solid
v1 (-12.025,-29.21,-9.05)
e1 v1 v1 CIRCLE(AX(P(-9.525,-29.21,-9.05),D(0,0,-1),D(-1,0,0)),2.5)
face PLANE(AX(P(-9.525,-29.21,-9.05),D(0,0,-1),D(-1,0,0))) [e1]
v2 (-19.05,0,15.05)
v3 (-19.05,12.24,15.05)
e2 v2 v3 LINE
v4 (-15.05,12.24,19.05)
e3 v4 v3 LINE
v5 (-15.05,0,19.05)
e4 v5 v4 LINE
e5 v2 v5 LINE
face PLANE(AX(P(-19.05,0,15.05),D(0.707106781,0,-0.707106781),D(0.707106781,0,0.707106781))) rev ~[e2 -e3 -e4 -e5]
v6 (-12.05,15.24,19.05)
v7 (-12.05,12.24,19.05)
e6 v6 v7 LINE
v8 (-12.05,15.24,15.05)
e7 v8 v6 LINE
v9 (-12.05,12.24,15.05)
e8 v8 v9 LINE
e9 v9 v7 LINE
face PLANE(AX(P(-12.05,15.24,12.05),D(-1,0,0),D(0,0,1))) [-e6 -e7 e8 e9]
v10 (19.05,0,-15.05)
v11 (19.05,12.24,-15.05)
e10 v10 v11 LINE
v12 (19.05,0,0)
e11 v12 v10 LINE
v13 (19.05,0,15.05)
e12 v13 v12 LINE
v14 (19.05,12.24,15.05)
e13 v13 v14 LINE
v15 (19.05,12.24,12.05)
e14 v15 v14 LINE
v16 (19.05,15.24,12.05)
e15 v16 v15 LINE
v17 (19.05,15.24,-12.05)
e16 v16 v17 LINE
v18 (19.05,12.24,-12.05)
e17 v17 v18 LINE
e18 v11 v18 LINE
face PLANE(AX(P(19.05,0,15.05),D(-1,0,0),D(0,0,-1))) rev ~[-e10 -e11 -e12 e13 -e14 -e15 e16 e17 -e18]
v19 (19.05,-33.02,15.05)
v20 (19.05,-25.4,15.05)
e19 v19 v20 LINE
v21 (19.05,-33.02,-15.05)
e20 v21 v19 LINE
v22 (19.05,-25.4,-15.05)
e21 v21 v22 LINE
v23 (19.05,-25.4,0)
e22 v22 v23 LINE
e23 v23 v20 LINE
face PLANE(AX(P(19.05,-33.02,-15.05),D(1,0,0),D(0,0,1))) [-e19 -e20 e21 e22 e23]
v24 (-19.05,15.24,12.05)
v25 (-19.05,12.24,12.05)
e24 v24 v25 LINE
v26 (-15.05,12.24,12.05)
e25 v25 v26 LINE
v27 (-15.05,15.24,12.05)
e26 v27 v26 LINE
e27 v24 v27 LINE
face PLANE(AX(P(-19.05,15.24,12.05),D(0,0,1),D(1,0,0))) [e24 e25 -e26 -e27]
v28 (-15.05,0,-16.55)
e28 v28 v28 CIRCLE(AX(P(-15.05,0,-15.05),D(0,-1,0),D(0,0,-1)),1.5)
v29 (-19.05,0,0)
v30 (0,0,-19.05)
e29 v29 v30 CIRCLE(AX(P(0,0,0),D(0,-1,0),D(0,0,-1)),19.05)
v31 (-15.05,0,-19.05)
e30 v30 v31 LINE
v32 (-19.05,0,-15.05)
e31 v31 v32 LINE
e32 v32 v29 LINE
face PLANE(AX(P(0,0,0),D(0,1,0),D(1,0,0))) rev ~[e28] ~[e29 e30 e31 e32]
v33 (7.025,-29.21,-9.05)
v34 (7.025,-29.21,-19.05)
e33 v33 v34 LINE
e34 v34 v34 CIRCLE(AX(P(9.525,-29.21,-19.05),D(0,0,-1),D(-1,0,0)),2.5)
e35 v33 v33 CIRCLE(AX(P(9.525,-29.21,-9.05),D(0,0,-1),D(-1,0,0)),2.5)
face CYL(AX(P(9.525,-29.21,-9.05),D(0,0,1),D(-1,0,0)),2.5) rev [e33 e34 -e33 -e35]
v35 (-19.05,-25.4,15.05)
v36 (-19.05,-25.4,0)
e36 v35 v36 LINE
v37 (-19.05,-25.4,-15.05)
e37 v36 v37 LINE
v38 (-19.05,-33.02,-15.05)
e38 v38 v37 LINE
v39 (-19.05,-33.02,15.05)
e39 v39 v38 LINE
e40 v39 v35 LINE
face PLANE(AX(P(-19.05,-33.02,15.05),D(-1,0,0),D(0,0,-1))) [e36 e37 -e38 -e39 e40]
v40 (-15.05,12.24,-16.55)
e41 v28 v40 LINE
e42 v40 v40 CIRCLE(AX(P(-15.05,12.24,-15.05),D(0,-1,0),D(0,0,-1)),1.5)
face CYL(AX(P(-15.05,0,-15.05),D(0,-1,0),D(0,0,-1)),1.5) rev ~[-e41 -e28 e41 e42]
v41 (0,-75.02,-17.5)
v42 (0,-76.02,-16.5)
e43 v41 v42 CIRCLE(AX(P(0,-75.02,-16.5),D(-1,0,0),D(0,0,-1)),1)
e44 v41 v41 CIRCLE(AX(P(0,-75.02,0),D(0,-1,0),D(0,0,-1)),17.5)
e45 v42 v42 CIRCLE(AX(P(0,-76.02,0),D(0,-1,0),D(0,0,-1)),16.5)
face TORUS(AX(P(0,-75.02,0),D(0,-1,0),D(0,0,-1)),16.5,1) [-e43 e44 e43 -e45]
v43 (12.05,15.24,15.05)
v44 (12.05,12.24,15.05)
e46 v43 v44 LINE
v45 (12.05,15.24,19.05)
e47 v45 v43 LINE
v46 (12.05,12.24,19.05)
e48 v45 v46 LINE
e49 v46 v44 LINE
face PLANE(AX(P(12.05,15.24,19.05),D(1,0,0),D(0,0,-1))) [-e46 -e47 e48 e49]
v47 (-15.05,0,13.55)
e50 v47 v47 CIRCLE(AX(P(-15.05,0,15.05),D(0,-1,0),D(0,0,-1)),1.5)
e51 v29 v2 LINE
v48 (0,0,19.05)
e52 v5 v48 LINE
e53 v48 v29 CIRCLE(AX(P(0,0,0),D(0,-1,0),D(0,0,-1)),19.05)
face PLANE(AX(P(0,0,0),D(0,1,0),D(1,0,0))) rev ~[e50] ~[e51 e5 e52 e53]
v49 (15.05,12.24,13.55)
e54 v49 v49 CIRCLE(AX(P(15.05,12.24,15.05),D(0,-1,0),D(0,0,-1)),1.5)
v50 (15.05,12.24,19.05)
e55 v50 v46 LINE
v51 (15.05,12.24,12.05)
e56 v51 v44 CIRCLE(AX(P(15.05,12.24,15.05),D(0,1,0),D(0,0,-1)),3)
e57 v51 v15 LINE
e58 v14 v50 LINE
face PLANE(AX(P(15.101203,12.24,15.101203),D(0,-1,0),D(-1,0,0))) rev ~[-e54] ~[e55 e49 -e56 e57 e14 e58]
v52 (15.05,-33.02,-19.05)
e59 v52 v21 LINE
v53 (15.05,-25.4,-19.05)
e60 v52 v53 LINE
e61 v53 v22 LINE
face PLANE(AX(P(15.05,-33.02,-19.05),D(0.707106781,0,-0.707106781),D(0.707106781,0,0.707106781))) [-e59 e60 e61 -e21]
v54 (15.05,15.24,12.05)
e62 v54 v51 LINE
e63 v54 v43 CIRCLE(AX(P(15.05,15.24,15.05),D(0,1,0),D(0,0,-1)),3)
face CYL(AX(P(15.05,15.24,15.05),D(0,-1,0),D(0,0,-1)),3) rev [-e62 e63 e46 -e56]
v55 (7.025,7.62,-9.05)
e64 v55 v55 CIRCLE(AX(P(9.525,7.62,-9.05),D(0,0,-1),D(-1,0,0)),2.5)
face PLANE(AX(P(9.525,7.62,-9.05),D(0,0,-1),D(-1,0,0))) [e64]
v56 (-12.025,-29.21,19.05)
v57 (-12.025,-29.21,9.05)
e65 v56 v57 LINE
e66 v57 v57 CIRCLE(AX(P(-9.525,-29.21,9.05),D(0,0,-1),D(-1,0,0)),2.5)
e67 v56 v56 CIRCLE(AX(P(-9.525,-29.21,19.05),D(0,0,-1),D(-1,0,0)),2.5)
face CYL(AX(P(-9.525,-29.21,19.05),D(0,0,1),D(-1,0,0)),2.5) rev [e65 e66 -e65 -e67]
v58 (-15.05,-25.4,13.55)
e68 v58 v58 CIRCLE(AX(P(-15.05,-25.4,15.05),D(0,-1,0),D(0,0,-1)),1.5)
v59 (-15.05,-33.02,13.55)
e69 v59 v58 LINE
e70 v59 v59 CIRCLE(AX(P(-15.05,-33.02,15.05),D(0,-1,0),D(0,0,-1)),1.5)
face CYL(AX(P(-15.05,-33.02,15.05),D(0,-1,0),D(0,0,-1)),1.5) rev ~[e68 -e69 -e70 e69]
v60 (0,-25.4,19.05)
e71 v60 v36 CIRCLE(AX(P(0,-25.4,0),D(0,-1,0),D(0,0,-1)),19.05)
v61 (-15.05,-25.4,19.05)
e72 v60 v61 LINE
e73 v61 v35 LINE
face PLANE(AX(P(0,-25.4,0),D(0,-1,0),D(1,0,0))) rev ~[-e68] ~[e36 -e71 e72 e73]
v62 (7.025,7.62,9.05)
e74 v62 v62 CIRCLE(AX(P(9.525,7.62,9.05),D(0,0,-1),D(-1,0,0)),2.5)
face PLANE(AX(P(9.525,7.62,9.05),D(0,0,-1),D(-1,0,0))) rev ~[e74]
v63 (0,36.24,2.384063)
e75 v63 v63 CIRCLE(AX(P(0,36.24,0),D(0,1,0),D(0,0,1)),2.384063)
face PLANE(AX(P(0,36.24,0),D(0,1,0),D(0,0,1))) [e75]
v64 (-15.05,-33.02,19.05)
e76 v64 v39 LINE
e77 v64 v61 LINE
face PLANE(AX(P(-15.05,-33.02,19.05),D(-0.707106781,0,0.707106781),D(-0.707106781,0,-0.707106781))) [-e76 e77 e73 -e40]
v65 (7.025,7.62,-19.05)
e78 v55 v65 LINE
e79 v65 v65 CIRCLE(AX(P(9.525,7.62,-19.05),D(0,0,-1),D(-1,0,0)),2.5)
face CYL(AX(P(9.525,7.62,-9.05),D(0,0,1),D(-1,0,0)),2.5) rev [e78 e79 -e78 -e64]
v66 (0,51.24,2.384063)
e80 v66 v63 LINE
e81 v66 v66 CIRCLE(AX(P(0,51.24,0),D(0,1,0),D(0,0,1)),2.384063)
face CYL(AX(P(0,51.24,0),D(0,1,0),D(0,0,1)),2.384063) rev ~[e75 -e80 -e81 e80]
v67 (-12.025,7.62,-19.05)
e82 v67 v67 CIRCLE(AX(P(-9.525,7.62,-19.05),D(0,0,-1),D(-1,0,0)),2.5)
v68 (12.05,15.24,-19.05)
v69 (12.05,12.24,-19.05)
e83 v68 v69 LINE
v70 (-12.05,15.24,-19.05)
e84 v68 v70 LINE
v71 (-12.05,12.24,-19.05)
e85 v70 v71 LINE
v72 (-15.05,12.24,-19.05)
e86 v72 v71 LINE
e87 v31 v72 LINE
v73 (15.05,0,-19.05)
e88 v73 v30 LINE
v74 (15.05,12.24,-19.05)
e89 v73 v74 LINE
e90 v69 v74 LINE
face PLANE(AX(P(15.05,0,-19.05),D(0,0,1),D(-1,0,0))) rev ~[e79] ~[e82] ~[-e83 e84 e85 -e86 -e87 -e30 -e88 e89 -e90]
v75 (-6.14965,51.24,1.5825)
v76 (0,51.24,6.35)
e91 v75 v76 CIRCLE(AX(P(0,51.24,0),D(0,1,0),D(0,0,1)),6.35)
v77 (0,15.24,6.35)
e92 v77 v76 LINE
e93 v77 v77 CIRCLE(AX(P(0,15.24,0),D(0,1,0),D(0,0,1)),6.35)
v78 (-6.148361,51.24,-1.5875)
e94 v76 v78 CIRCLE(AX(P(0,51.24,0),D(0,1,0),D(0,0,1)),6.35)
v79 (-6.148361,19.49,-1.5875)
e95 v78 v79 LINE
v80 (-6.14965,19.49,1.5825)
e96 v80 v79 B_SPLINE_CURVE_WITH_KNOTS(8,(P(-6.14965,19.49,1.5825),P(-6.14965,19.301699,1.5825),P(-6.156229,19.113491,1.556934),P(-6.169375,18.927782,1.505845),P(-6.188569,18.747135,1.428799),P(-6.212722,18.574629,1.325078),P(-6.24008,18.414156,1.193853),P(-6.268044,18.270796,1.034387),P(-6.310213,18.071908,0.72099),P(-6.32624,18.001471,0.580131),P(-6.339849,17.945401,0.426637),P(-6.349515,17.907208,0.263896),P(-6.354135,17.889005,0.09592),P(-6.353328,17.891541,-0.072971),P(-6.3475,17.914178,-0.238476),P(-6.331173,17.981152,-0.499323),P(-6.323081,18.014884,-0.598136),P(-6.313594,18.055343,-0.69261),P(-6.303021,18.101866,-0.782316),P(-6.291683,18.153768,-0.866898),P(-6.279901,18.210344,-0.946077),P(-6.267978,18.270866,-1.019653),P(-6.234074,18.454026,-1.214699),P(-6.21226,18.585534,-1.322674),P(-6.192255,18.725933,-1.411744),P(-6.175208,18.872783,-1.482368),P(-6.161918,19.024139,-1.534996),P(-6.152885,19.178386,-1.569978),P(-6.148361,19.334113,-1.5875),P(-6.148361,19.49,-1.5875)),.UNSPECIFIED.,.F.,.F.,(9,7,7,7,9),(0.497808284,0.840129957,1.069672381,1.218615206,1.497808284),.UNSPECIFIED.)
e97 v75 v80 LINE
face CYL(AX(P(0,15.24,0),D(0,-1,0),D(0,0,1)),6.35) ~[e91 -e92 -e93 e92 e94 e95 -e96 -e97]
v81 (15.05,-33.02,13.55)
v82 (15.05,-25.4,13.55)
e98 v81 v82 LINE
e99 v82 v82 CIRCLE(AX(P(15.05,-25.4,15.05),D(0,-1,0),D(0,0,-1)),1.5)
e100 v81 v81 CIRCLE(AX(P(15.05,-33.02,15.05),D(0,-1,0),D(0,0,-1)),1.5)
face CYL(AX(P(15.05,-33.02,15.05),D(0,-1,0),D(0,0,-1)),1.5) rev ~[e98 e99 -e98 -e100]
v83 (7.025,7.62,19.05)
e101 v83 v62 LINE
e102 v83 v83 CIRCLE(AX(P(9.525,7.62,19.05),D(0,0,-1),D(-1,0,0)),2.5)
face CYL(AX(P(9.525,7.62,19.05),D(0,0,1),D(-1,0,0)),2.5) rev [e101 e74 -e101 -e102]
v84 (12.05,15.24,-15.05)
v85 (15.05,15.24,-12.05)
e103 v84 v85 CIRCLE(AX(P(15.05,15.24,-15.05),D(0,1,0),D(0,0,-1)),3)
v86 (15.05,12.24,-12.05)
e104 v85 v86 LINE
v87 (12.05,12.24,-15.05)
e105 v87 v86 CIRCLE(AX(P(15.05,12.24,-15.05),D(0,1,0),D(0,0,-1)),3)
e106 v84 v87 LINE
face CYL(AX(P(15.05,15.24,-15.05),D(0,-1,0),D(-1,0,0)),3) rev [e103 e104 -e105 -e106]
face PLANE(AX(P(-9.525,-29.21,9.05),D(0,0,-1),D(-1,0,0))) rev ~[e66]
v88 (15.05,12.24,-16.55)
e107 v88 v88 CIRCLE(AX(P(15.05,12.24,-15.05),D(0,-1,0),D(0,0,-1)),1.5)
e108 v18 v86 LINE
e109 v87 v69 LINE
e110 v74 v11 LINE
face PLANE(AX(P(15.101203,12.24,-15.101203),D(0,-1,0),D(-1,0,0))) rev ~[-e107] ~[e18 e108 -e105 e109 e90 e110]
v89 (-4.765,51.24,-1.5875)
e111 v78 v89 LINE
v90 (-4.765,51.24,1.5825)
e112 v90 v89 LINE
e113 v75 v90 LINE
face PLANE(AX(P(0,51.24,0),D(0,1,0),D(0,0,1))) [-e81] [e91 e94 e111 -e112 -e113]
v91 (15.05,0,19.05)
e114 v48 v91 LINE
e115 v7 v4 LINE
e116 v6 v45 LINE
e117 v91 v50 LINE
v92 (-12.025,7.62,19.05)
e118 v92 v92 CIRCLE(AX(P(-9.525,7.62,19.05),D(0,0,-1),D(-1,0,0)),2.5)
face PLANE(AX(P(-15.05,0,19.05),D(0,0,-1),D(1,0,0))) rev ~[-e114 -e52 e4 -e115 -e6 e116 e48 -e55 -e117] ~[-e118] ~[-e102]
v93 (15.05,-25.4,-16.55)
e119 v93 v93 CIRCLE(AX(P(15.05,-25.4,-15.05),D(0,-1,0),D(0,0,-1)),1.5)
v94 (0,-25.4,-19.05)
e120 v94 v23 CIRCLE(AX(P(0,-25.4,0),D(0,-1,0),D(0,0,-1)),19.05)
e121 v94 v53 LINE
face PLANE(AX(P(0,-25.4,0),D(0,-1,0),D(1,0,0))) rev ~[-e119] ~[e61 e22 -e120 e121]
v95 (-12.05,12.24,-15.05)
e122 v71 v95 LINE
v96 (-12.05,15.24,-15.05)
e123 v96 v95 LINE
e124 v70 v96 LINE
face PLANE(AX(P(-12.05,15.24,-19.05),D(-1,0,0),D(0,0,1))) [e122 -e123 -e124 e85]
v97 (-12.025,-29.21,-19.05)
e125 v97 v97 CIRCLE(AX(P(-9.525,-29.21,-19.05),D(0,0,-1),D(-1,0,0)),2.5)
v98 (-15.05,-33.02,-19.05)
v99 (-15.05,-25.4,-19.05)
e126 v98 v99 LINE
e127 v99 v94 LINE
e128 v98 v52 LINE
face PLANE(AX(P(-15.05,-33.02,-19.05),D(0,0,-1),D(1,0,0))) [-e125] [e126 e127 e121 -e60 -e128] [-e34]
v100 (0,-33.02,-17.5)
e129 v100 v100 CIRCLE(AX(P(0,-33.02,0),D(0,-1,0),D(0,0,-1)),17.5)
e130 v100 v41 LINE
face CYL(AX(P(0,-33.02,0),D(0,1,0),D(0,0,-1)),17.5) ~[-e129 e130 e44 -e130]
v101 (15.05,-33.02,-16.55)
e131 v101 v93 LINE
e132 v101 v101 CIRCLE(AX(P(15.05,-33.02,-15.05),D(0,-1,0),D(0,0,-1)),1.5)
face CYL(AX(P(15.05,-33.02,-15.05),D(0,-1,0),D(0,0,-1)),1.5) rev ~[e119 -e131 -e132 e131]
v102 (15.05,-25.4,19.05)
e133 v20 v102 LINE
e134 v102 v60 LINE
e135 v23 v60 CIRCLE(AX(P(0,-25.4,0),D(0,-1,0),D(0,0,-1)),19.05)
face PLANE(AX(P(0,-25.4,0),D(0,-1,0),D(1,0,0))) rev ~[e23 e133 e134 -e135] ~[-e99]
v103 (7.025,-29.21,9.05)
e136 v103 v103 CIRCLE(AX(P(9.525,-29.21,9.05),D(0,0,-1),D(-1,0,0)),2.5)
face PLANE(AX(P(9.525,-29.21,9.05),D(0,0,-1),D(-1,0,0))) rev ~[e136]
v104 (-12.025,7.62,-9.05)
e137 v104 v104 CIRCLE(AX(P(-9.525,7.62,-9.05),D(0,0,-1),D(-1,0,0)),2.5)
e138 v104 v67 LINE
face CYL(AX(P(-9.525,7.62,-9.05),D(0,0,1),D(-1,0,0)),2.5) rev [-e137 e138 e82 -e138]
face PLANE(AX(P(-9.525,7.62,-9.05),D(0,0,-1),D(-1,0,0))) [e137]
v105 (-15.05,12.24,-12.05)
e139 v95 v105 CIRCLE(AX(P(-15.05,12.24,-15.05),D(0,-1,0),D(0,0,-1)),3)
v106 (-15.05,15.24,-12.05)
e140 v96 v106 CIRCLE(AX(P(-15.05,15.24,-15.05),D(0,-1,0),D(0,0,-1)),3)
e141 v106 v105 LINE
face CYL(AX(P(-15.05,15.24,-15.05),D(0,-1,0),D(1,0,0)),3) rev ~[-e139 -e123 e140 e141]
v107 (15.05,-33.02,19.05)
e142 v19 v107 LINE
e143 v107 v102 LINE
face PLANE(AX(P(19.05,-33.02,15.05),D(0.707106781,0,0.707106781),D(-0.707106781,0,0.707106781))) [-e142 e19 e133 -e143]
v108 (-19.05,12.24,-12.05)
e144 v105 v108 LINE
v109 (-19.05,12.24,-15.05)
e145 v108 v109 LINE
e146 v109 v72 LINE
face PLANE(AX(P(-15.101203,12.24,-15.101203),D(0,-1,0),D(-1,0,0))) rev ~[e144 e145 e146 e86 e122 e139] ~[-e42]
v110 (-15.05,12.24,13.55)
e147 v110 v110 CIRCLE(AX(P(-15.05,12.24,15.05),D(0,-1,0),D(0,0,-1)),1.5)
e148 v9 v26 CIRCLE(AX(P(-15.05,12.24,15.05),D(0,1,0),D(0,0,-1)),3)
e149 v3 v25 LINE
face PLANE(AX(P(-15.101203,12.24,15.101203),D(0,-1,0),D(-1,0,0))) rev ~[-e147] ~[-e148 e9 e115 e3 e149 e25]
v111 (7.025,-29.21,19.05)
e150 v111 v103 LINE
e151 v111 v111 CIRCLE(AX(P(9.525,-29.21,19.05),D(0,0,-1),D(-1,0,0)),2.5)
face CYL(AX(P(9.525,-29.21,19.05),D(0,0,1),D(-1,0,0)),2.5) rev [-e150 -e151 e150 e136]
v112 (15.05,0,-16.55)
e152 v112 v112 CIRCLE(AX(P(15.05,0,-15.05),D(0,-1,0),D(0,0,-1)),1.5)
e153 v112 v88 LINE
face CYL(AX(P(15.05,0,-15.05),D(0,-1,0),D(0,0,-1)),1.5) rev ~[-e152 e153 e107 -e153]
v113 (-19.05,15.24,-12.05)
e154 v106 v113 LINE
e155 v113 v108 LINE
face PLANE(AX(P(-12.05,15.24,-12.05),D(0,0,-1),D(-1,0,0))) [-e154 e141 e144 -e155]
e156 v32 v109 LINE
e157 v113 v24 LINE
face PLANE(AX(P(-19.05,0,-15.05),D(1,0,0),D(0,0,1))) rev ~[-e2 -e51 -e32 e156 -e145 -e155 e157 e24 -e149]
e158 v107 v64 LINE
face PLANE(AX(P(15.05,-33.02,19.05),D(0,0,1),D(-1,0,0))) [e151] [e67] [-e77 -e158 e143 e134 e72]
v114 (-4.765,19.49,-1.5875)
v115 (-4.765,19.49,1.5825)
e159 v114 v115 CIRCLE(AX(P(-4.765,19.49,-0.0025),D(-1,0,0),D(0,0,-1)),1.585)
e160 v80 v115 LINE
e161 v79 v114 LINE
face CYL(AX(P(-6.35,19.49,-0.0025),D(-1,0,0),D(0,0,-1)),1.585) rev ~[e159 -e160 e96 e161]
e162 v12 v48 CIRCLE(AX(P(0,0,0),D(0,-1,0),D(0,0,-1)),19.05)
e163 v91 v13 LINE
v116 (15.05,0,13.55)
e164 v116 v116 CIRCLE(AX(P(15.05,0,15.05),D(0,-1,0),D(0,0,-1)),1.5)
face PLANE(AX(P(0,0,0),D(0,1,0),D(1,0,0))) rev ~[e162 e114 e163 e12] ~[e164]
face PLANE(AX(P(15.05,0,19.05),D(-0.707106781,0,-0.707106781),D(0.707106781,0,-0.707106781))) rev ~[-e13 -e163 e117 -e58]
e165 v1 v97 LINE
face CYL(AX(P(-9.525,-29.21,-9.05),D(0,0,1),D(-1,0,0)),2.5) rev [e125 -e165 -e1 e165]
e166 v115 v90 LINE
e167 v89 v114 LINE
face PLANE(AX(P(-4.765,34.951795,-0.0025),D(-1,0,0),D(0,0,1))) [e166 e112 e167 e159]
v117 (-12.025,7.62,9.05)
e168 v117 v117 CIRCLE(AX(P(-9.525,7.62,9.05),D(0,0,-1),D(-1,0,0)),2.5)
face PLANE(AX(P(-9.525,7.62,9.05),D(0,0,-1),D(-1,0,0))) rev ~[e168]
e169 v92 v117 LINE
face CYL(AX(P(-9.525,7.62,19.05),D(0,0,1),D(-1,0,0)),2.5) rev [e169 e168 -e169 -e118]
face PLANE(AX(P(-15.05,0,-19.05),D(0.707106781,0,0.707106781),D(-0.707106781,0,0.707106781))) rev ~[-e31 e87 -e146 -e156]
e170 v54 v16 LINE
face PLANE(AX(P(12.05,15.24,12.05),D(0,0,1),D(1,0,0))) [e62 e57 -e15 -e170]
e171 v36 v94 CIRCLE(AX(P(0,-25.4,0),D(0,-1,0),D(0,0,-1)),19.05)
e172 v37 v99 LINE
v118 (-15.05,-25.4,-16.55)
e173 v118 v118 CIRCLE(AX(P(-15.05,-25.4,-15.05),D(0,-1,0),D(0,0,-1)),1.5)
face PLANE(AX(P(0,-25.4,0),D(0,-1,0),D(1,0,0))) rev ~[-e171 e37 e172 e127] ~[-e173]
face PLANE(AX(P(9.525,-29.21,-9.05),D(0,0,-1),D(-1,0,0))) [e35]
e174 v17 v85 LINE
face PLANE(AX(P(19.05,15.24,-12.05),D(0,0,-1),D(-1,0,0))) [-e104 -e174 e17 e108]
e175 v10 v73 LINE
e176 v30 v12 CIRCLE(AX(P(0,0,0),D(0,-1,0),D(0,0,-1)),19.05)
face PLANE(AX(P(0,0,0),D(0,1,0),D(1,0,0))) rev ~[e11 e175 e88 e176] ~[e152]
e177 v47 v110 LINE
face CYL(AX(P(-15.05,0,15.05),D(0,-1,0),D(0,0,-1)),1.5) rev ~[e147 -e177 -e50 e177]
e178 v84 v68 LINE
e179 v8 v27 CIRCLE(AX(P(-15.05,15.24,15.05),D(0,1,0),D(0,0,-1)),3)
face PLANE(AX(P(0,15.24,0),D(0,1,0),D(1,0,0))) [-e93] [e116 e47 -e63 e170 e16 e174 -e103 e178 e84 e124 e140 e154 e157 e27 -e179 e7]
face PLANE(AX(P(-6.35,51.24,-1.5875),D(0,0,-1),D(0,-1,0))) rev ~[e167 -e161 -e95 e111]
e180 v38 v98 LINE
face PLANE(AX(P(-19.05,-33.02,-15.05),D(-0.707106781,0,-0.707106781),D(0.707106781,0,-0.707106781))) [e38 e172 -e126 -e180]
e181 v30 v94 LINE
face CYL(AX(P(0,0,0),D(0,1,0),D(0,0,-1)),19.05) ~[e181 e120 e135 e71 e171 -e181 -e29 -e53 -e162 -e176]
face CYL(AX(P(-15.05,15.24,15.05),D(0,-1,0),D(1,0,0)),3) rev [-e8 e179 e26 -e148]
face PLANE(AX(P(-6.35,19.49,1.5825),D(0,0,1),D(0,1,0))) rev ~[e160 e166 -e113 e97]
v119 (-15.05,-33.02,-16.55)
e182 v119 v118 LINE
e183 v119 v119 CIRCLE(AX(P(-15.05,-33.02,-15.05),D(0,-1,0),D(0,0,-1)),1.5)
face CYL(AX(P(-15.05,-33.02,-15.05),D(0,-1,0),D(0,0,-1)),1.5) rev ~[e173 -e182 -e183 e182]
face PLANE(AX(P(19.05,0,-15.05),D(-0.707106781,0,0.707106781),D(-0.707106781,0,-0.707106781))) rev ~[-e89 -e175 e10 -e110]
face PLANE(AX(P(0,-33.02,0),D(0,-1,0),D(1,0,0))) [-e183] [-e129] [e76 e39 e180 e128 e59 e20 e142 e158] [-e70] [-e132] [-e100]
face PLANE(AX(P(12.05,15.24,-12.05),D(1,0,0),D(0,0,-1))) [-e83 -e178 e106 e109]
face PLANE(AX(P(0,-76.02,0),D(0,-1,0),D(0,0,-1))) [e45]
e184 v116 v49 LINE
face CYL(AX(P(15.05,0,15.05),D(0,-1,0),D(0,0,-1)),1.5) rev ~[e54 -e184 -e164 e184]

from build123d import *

# Parameters (mm, degrees)
SALIENTE_EXTRUIR1_DEPTH = 15.24
CROQUIS2_R              = 6.35
SALIENTE_EXTRUIR2_DEPTH = 36
CORTAR_EXTRUIR1_DEPTH   = 1.585
CROQUIS4_R              = 1.5
CORTAR_EXTRUIR2_DEPTH   = 58.890781738
CROQUIS5_R              = 19.05
SALIENTE_EXTRUIR3_DEPTH = 25.4
SALIENTE_EXTRUIR4_START = 7.62
CROQUIS6_R              = 1.5
SALIENTE_EXTRUIR4_DEPTH = 7.62
CORTAR_EXTRUIR3_DEPTH   = 3
REDONDEO1_R             = 3
CROQUIS8_R              = 17.5
SALIENTE_EXTRUIR5_DEPTH = 43
REDONDEO2_R             = 1
CROQUIS9_R              = 2.5
CORTAR_EXTRUIR4_DEPTH   = 10
CORTAR_EXTRUIR5_START   = 28.1
CROQUIS9_2_R            = 2.5
CORTAR_EXTRUIR5_DEPTH   = 10
CROQUIS10_R             = 2.3840625
CORTAR_EXTRUIR6_DEPTH   = 15


with BuildPart() as part:
    # Croquis1 → Saliente-Extruir1 (new body)
    with BuildSketch(Plane(origin=(0, 0, 0), x_dir=(1, 0, 0), z_dir=(0, 1, 0))):
        Polygon((-15.05, 19.05), (-19.05, 15.05), (-19.05, -15.05), (-15.05, -19.05), (15.05, -19.05), (19.05, -15.05), (19.05, 15.05), (15.05, 19.05), align=None)
    extrude(amount=SALIENTE_EXTRUIR1_DEPTH)

    # Croquis2 → Saliente-Extruir2 (add)
    with BuildSketch(Plane(origin=(0, 15.24, 0), x_dir=(1, 0, 0), z_dir=(0, 1, 0))):
        with Locations(Location((0, 0, 0), (0, 0, 270))):
            Circle(CROQUIS2_R)
    extrude(amount=SALIENTE_EXTRUIR2_DEPTH)

    # Croquis3 → Cortar-Extruir1 (cut)
    with BuildSketch(Plane.ZY.offset(6.35)):
        with BuildLine():
            Line((-1.5875, 51.24), (-1.5875, 19.49))
            ThreePointArc((-1.5875, 19.49), (-0.0025, 17.905), (1.5825, 19.49))
            Line((1.5825, 19.49), (1.5825, 51.24))
            Line((1.5825, 51.24), (-1.5875, 51.24))
        make_face()
    extrude(amount=-CORTAR_EXTRUIR1_DEPTH, mode=Mode.SUBTRACT)

    # Croquis4 → Cortar-Extruir2 (cut, through all)
    with BuildSketch(Plane.XZ):
        with Locations(Location((-15.05, -15.05, 0), (0, 0, 270))):
            Circle(CROQUIS4_R)
        with Locations(Location((-15.05, 15.05, 0), (0, 0, 270))):
            Circle(CROQUIS4_R)
        with Locations(Location((15.05, 15.05, 0), (0, 0, 270))):
            Circle(CROQUIS4_R)
        with Locations(Location((15.05, -15.05, 0), (0, 0, 270))):
            Circle(CROQUIS4_R)
    extrude(amount=-CORTAR_EXTRUIR2_DEPTH, mode=Mode.SUBTRACT)

    # Croquis5 → Saliente-Extruir3 (add)
    with BuildSketch(Plane.XZ):
        with Locations(Location((0, 0, 0), (0, 0, 270))):
            Circle(CROQUIS5_R)
    extrude(amount=SALIENTE_EXTRUIR3_DEPTH)

    # Croquis6 → Saliente-Extruir4 (add)
    with BuildSketch(Plane.XZ.offset(25.4).offset(SALIENTE_EXTRUIR4_START)):
        Polygon((-19.05, -15.05), (-15.05, -19.05), (15.05, -19.05), (19.05, -15.05), (19.05, 15.05), (15.05, 19.05), (-15.05, 19.05), (-19.05, 15.05), align=None)
        with Locations(Location((-15.05, 15.05, 0), (0, 0, 270))):
            Circle(CROQUIS6_R, mode=Mode.SUBTRACT)
        with Locations(Location((-15.05, -15.05, 0), (0, 0, 270))):
            Circle(CROQUIS6_R, mode=Mode.SUBTRACT)
        with Locations(Location((15.05, -15.05, 0), (0, 0, 270))):
            Circle(CROQUIS6_R, mode=Mode.SUBTRACT)
        with Locations(Location((15.05, 15.05, 0), (0, 0, 270))):
            Circle(CROQUIS6_R, mode=Mode.SUBTRACT)
    extrude(amount=-SALIENTE_EXTRUIR4_DEPTH)

    # Croquis7 → Cortar-Extruir3 (cut)
    with BuildSketch(Plane(origin=(0, 15.24, 0), x_dir=(1, 0, 0), z_dir=(0, 1, 0))):
        Polygon((-19.05, -12.05), (-12.05, -12.05), (-12.05, -19.05), (-15.05, -19.05), (-19.05, -15.05), align=None)
        Polygon((-12.05, 19.05), (-12.05, 12.05), (-19.05, 12.05), (-19.05, 15.05), (-15.05, 19.05), align=None)
        Polygon((19.05, 12.05), (12.05, 12.05), (12.05, 19.05), (15.05, 19.05), (19.05, 15.05), align=None)
        Polygon((12.05, -19.05), (12.05, -12.05), (19.05, -12.05), (19.05, -15.05), (15.05, -19.05), align=None)
    extrude(amount=-CORTAR_EXTRUIR3_DEPTH, mode=Mode.SUBTRACT)

    # Redondeo1
    redondeo1_edges = [part.edges().sort_by_distance(p)[0] for p in [
        (12.05, 13.74, 12.05),
        (12.05, 13.74, -12.05),
        (-12.05, 13.74, -12.05),
        (-12.05, 13.74, 12.05),
    ]]
    fillet(redondeo1_edges, radius=REDONDEO1_R)

    # Croquis8 → Saliente-Extruir5 (add)
    with BuildSketch(Plane.XZ.offset(33.02)):
        with Locations(Location((0, 0, 0), (0, 0, 270))):
            Circle(CROQUIS8_R)
    extrude(amount=SALIENTE_EXTRUIR5_DEPTH)

    # Redondeo2
    redondeo2_edges = [part.edges().sort_by_distance(p)[0] for p in [
        (0, -76.02, 17.5),
    ]]
    fillet(redondeo2_edges, radius=REDONDEO2_R)

    # Croquis9 → Cortar-Extruir4 (cut)
    with BuildSketch(Plane(origin=(0, 0, 19.05), x_dir=(-1, 0, 0), z_dir=(0, 0, -1))):
        with Locations((9.525, 7.62)):
            Circle(CROQUIS9_R)
        with Locations((-9.525, 7.62)):
            Circle(CROQUIS9_R)
        with Locations((-9.525, -29.21)):
            Circle(CROQUIS9_R)
        with Locations((9.525, -29.21)):
            Circle(CROQUIS9_R)
    extrude(amount=CORTAR_EXTRUIR4_DEPTH, mode=Mode.SUBTRACT)

    # Croquis9<2> → Cortar-Extruir5 (cut)
    with BuildSketch(Plane(origin=(0, 0, 19.05), x_dir=(-1, 0, 0), z_dir=(0, 0, -1)).offset(CORTAR_EXTRUIR5_START)):
        with Locations((9.525, 7.62)):
            Circle(CROQUIS9_2_R)
        with Locations((-9.525, 7.62)):
            Circle(CROQUIS9_2_R)
        with Locations((-9.525, -29.21)):
            Circle(CROQUIS9_2_R)
        with Locations((9.525, -29.21)):
            Circle(CROQUIS9_2_R)
    extrude(amount=CORTAR_EXTRUIR5_DEPTH, mode=Mode.SUBTRACT)

    # Croquis10 → Cortar-Extruir6 (cut)
    with BuildSketch(Plane(origin=(0, 51.24, 0), x_dir=(1, 0, 0), z_dir=(0, 1, 0))):
        with Locations(Location((0, 0, 0), (0, 0, 270))):
            Circle(CROQUIS10_R)
    extrude(amount=-CORTAR_EXTRUIR6_DEPTH, mode=Mode.SUBTRACT)


solid = part.part
